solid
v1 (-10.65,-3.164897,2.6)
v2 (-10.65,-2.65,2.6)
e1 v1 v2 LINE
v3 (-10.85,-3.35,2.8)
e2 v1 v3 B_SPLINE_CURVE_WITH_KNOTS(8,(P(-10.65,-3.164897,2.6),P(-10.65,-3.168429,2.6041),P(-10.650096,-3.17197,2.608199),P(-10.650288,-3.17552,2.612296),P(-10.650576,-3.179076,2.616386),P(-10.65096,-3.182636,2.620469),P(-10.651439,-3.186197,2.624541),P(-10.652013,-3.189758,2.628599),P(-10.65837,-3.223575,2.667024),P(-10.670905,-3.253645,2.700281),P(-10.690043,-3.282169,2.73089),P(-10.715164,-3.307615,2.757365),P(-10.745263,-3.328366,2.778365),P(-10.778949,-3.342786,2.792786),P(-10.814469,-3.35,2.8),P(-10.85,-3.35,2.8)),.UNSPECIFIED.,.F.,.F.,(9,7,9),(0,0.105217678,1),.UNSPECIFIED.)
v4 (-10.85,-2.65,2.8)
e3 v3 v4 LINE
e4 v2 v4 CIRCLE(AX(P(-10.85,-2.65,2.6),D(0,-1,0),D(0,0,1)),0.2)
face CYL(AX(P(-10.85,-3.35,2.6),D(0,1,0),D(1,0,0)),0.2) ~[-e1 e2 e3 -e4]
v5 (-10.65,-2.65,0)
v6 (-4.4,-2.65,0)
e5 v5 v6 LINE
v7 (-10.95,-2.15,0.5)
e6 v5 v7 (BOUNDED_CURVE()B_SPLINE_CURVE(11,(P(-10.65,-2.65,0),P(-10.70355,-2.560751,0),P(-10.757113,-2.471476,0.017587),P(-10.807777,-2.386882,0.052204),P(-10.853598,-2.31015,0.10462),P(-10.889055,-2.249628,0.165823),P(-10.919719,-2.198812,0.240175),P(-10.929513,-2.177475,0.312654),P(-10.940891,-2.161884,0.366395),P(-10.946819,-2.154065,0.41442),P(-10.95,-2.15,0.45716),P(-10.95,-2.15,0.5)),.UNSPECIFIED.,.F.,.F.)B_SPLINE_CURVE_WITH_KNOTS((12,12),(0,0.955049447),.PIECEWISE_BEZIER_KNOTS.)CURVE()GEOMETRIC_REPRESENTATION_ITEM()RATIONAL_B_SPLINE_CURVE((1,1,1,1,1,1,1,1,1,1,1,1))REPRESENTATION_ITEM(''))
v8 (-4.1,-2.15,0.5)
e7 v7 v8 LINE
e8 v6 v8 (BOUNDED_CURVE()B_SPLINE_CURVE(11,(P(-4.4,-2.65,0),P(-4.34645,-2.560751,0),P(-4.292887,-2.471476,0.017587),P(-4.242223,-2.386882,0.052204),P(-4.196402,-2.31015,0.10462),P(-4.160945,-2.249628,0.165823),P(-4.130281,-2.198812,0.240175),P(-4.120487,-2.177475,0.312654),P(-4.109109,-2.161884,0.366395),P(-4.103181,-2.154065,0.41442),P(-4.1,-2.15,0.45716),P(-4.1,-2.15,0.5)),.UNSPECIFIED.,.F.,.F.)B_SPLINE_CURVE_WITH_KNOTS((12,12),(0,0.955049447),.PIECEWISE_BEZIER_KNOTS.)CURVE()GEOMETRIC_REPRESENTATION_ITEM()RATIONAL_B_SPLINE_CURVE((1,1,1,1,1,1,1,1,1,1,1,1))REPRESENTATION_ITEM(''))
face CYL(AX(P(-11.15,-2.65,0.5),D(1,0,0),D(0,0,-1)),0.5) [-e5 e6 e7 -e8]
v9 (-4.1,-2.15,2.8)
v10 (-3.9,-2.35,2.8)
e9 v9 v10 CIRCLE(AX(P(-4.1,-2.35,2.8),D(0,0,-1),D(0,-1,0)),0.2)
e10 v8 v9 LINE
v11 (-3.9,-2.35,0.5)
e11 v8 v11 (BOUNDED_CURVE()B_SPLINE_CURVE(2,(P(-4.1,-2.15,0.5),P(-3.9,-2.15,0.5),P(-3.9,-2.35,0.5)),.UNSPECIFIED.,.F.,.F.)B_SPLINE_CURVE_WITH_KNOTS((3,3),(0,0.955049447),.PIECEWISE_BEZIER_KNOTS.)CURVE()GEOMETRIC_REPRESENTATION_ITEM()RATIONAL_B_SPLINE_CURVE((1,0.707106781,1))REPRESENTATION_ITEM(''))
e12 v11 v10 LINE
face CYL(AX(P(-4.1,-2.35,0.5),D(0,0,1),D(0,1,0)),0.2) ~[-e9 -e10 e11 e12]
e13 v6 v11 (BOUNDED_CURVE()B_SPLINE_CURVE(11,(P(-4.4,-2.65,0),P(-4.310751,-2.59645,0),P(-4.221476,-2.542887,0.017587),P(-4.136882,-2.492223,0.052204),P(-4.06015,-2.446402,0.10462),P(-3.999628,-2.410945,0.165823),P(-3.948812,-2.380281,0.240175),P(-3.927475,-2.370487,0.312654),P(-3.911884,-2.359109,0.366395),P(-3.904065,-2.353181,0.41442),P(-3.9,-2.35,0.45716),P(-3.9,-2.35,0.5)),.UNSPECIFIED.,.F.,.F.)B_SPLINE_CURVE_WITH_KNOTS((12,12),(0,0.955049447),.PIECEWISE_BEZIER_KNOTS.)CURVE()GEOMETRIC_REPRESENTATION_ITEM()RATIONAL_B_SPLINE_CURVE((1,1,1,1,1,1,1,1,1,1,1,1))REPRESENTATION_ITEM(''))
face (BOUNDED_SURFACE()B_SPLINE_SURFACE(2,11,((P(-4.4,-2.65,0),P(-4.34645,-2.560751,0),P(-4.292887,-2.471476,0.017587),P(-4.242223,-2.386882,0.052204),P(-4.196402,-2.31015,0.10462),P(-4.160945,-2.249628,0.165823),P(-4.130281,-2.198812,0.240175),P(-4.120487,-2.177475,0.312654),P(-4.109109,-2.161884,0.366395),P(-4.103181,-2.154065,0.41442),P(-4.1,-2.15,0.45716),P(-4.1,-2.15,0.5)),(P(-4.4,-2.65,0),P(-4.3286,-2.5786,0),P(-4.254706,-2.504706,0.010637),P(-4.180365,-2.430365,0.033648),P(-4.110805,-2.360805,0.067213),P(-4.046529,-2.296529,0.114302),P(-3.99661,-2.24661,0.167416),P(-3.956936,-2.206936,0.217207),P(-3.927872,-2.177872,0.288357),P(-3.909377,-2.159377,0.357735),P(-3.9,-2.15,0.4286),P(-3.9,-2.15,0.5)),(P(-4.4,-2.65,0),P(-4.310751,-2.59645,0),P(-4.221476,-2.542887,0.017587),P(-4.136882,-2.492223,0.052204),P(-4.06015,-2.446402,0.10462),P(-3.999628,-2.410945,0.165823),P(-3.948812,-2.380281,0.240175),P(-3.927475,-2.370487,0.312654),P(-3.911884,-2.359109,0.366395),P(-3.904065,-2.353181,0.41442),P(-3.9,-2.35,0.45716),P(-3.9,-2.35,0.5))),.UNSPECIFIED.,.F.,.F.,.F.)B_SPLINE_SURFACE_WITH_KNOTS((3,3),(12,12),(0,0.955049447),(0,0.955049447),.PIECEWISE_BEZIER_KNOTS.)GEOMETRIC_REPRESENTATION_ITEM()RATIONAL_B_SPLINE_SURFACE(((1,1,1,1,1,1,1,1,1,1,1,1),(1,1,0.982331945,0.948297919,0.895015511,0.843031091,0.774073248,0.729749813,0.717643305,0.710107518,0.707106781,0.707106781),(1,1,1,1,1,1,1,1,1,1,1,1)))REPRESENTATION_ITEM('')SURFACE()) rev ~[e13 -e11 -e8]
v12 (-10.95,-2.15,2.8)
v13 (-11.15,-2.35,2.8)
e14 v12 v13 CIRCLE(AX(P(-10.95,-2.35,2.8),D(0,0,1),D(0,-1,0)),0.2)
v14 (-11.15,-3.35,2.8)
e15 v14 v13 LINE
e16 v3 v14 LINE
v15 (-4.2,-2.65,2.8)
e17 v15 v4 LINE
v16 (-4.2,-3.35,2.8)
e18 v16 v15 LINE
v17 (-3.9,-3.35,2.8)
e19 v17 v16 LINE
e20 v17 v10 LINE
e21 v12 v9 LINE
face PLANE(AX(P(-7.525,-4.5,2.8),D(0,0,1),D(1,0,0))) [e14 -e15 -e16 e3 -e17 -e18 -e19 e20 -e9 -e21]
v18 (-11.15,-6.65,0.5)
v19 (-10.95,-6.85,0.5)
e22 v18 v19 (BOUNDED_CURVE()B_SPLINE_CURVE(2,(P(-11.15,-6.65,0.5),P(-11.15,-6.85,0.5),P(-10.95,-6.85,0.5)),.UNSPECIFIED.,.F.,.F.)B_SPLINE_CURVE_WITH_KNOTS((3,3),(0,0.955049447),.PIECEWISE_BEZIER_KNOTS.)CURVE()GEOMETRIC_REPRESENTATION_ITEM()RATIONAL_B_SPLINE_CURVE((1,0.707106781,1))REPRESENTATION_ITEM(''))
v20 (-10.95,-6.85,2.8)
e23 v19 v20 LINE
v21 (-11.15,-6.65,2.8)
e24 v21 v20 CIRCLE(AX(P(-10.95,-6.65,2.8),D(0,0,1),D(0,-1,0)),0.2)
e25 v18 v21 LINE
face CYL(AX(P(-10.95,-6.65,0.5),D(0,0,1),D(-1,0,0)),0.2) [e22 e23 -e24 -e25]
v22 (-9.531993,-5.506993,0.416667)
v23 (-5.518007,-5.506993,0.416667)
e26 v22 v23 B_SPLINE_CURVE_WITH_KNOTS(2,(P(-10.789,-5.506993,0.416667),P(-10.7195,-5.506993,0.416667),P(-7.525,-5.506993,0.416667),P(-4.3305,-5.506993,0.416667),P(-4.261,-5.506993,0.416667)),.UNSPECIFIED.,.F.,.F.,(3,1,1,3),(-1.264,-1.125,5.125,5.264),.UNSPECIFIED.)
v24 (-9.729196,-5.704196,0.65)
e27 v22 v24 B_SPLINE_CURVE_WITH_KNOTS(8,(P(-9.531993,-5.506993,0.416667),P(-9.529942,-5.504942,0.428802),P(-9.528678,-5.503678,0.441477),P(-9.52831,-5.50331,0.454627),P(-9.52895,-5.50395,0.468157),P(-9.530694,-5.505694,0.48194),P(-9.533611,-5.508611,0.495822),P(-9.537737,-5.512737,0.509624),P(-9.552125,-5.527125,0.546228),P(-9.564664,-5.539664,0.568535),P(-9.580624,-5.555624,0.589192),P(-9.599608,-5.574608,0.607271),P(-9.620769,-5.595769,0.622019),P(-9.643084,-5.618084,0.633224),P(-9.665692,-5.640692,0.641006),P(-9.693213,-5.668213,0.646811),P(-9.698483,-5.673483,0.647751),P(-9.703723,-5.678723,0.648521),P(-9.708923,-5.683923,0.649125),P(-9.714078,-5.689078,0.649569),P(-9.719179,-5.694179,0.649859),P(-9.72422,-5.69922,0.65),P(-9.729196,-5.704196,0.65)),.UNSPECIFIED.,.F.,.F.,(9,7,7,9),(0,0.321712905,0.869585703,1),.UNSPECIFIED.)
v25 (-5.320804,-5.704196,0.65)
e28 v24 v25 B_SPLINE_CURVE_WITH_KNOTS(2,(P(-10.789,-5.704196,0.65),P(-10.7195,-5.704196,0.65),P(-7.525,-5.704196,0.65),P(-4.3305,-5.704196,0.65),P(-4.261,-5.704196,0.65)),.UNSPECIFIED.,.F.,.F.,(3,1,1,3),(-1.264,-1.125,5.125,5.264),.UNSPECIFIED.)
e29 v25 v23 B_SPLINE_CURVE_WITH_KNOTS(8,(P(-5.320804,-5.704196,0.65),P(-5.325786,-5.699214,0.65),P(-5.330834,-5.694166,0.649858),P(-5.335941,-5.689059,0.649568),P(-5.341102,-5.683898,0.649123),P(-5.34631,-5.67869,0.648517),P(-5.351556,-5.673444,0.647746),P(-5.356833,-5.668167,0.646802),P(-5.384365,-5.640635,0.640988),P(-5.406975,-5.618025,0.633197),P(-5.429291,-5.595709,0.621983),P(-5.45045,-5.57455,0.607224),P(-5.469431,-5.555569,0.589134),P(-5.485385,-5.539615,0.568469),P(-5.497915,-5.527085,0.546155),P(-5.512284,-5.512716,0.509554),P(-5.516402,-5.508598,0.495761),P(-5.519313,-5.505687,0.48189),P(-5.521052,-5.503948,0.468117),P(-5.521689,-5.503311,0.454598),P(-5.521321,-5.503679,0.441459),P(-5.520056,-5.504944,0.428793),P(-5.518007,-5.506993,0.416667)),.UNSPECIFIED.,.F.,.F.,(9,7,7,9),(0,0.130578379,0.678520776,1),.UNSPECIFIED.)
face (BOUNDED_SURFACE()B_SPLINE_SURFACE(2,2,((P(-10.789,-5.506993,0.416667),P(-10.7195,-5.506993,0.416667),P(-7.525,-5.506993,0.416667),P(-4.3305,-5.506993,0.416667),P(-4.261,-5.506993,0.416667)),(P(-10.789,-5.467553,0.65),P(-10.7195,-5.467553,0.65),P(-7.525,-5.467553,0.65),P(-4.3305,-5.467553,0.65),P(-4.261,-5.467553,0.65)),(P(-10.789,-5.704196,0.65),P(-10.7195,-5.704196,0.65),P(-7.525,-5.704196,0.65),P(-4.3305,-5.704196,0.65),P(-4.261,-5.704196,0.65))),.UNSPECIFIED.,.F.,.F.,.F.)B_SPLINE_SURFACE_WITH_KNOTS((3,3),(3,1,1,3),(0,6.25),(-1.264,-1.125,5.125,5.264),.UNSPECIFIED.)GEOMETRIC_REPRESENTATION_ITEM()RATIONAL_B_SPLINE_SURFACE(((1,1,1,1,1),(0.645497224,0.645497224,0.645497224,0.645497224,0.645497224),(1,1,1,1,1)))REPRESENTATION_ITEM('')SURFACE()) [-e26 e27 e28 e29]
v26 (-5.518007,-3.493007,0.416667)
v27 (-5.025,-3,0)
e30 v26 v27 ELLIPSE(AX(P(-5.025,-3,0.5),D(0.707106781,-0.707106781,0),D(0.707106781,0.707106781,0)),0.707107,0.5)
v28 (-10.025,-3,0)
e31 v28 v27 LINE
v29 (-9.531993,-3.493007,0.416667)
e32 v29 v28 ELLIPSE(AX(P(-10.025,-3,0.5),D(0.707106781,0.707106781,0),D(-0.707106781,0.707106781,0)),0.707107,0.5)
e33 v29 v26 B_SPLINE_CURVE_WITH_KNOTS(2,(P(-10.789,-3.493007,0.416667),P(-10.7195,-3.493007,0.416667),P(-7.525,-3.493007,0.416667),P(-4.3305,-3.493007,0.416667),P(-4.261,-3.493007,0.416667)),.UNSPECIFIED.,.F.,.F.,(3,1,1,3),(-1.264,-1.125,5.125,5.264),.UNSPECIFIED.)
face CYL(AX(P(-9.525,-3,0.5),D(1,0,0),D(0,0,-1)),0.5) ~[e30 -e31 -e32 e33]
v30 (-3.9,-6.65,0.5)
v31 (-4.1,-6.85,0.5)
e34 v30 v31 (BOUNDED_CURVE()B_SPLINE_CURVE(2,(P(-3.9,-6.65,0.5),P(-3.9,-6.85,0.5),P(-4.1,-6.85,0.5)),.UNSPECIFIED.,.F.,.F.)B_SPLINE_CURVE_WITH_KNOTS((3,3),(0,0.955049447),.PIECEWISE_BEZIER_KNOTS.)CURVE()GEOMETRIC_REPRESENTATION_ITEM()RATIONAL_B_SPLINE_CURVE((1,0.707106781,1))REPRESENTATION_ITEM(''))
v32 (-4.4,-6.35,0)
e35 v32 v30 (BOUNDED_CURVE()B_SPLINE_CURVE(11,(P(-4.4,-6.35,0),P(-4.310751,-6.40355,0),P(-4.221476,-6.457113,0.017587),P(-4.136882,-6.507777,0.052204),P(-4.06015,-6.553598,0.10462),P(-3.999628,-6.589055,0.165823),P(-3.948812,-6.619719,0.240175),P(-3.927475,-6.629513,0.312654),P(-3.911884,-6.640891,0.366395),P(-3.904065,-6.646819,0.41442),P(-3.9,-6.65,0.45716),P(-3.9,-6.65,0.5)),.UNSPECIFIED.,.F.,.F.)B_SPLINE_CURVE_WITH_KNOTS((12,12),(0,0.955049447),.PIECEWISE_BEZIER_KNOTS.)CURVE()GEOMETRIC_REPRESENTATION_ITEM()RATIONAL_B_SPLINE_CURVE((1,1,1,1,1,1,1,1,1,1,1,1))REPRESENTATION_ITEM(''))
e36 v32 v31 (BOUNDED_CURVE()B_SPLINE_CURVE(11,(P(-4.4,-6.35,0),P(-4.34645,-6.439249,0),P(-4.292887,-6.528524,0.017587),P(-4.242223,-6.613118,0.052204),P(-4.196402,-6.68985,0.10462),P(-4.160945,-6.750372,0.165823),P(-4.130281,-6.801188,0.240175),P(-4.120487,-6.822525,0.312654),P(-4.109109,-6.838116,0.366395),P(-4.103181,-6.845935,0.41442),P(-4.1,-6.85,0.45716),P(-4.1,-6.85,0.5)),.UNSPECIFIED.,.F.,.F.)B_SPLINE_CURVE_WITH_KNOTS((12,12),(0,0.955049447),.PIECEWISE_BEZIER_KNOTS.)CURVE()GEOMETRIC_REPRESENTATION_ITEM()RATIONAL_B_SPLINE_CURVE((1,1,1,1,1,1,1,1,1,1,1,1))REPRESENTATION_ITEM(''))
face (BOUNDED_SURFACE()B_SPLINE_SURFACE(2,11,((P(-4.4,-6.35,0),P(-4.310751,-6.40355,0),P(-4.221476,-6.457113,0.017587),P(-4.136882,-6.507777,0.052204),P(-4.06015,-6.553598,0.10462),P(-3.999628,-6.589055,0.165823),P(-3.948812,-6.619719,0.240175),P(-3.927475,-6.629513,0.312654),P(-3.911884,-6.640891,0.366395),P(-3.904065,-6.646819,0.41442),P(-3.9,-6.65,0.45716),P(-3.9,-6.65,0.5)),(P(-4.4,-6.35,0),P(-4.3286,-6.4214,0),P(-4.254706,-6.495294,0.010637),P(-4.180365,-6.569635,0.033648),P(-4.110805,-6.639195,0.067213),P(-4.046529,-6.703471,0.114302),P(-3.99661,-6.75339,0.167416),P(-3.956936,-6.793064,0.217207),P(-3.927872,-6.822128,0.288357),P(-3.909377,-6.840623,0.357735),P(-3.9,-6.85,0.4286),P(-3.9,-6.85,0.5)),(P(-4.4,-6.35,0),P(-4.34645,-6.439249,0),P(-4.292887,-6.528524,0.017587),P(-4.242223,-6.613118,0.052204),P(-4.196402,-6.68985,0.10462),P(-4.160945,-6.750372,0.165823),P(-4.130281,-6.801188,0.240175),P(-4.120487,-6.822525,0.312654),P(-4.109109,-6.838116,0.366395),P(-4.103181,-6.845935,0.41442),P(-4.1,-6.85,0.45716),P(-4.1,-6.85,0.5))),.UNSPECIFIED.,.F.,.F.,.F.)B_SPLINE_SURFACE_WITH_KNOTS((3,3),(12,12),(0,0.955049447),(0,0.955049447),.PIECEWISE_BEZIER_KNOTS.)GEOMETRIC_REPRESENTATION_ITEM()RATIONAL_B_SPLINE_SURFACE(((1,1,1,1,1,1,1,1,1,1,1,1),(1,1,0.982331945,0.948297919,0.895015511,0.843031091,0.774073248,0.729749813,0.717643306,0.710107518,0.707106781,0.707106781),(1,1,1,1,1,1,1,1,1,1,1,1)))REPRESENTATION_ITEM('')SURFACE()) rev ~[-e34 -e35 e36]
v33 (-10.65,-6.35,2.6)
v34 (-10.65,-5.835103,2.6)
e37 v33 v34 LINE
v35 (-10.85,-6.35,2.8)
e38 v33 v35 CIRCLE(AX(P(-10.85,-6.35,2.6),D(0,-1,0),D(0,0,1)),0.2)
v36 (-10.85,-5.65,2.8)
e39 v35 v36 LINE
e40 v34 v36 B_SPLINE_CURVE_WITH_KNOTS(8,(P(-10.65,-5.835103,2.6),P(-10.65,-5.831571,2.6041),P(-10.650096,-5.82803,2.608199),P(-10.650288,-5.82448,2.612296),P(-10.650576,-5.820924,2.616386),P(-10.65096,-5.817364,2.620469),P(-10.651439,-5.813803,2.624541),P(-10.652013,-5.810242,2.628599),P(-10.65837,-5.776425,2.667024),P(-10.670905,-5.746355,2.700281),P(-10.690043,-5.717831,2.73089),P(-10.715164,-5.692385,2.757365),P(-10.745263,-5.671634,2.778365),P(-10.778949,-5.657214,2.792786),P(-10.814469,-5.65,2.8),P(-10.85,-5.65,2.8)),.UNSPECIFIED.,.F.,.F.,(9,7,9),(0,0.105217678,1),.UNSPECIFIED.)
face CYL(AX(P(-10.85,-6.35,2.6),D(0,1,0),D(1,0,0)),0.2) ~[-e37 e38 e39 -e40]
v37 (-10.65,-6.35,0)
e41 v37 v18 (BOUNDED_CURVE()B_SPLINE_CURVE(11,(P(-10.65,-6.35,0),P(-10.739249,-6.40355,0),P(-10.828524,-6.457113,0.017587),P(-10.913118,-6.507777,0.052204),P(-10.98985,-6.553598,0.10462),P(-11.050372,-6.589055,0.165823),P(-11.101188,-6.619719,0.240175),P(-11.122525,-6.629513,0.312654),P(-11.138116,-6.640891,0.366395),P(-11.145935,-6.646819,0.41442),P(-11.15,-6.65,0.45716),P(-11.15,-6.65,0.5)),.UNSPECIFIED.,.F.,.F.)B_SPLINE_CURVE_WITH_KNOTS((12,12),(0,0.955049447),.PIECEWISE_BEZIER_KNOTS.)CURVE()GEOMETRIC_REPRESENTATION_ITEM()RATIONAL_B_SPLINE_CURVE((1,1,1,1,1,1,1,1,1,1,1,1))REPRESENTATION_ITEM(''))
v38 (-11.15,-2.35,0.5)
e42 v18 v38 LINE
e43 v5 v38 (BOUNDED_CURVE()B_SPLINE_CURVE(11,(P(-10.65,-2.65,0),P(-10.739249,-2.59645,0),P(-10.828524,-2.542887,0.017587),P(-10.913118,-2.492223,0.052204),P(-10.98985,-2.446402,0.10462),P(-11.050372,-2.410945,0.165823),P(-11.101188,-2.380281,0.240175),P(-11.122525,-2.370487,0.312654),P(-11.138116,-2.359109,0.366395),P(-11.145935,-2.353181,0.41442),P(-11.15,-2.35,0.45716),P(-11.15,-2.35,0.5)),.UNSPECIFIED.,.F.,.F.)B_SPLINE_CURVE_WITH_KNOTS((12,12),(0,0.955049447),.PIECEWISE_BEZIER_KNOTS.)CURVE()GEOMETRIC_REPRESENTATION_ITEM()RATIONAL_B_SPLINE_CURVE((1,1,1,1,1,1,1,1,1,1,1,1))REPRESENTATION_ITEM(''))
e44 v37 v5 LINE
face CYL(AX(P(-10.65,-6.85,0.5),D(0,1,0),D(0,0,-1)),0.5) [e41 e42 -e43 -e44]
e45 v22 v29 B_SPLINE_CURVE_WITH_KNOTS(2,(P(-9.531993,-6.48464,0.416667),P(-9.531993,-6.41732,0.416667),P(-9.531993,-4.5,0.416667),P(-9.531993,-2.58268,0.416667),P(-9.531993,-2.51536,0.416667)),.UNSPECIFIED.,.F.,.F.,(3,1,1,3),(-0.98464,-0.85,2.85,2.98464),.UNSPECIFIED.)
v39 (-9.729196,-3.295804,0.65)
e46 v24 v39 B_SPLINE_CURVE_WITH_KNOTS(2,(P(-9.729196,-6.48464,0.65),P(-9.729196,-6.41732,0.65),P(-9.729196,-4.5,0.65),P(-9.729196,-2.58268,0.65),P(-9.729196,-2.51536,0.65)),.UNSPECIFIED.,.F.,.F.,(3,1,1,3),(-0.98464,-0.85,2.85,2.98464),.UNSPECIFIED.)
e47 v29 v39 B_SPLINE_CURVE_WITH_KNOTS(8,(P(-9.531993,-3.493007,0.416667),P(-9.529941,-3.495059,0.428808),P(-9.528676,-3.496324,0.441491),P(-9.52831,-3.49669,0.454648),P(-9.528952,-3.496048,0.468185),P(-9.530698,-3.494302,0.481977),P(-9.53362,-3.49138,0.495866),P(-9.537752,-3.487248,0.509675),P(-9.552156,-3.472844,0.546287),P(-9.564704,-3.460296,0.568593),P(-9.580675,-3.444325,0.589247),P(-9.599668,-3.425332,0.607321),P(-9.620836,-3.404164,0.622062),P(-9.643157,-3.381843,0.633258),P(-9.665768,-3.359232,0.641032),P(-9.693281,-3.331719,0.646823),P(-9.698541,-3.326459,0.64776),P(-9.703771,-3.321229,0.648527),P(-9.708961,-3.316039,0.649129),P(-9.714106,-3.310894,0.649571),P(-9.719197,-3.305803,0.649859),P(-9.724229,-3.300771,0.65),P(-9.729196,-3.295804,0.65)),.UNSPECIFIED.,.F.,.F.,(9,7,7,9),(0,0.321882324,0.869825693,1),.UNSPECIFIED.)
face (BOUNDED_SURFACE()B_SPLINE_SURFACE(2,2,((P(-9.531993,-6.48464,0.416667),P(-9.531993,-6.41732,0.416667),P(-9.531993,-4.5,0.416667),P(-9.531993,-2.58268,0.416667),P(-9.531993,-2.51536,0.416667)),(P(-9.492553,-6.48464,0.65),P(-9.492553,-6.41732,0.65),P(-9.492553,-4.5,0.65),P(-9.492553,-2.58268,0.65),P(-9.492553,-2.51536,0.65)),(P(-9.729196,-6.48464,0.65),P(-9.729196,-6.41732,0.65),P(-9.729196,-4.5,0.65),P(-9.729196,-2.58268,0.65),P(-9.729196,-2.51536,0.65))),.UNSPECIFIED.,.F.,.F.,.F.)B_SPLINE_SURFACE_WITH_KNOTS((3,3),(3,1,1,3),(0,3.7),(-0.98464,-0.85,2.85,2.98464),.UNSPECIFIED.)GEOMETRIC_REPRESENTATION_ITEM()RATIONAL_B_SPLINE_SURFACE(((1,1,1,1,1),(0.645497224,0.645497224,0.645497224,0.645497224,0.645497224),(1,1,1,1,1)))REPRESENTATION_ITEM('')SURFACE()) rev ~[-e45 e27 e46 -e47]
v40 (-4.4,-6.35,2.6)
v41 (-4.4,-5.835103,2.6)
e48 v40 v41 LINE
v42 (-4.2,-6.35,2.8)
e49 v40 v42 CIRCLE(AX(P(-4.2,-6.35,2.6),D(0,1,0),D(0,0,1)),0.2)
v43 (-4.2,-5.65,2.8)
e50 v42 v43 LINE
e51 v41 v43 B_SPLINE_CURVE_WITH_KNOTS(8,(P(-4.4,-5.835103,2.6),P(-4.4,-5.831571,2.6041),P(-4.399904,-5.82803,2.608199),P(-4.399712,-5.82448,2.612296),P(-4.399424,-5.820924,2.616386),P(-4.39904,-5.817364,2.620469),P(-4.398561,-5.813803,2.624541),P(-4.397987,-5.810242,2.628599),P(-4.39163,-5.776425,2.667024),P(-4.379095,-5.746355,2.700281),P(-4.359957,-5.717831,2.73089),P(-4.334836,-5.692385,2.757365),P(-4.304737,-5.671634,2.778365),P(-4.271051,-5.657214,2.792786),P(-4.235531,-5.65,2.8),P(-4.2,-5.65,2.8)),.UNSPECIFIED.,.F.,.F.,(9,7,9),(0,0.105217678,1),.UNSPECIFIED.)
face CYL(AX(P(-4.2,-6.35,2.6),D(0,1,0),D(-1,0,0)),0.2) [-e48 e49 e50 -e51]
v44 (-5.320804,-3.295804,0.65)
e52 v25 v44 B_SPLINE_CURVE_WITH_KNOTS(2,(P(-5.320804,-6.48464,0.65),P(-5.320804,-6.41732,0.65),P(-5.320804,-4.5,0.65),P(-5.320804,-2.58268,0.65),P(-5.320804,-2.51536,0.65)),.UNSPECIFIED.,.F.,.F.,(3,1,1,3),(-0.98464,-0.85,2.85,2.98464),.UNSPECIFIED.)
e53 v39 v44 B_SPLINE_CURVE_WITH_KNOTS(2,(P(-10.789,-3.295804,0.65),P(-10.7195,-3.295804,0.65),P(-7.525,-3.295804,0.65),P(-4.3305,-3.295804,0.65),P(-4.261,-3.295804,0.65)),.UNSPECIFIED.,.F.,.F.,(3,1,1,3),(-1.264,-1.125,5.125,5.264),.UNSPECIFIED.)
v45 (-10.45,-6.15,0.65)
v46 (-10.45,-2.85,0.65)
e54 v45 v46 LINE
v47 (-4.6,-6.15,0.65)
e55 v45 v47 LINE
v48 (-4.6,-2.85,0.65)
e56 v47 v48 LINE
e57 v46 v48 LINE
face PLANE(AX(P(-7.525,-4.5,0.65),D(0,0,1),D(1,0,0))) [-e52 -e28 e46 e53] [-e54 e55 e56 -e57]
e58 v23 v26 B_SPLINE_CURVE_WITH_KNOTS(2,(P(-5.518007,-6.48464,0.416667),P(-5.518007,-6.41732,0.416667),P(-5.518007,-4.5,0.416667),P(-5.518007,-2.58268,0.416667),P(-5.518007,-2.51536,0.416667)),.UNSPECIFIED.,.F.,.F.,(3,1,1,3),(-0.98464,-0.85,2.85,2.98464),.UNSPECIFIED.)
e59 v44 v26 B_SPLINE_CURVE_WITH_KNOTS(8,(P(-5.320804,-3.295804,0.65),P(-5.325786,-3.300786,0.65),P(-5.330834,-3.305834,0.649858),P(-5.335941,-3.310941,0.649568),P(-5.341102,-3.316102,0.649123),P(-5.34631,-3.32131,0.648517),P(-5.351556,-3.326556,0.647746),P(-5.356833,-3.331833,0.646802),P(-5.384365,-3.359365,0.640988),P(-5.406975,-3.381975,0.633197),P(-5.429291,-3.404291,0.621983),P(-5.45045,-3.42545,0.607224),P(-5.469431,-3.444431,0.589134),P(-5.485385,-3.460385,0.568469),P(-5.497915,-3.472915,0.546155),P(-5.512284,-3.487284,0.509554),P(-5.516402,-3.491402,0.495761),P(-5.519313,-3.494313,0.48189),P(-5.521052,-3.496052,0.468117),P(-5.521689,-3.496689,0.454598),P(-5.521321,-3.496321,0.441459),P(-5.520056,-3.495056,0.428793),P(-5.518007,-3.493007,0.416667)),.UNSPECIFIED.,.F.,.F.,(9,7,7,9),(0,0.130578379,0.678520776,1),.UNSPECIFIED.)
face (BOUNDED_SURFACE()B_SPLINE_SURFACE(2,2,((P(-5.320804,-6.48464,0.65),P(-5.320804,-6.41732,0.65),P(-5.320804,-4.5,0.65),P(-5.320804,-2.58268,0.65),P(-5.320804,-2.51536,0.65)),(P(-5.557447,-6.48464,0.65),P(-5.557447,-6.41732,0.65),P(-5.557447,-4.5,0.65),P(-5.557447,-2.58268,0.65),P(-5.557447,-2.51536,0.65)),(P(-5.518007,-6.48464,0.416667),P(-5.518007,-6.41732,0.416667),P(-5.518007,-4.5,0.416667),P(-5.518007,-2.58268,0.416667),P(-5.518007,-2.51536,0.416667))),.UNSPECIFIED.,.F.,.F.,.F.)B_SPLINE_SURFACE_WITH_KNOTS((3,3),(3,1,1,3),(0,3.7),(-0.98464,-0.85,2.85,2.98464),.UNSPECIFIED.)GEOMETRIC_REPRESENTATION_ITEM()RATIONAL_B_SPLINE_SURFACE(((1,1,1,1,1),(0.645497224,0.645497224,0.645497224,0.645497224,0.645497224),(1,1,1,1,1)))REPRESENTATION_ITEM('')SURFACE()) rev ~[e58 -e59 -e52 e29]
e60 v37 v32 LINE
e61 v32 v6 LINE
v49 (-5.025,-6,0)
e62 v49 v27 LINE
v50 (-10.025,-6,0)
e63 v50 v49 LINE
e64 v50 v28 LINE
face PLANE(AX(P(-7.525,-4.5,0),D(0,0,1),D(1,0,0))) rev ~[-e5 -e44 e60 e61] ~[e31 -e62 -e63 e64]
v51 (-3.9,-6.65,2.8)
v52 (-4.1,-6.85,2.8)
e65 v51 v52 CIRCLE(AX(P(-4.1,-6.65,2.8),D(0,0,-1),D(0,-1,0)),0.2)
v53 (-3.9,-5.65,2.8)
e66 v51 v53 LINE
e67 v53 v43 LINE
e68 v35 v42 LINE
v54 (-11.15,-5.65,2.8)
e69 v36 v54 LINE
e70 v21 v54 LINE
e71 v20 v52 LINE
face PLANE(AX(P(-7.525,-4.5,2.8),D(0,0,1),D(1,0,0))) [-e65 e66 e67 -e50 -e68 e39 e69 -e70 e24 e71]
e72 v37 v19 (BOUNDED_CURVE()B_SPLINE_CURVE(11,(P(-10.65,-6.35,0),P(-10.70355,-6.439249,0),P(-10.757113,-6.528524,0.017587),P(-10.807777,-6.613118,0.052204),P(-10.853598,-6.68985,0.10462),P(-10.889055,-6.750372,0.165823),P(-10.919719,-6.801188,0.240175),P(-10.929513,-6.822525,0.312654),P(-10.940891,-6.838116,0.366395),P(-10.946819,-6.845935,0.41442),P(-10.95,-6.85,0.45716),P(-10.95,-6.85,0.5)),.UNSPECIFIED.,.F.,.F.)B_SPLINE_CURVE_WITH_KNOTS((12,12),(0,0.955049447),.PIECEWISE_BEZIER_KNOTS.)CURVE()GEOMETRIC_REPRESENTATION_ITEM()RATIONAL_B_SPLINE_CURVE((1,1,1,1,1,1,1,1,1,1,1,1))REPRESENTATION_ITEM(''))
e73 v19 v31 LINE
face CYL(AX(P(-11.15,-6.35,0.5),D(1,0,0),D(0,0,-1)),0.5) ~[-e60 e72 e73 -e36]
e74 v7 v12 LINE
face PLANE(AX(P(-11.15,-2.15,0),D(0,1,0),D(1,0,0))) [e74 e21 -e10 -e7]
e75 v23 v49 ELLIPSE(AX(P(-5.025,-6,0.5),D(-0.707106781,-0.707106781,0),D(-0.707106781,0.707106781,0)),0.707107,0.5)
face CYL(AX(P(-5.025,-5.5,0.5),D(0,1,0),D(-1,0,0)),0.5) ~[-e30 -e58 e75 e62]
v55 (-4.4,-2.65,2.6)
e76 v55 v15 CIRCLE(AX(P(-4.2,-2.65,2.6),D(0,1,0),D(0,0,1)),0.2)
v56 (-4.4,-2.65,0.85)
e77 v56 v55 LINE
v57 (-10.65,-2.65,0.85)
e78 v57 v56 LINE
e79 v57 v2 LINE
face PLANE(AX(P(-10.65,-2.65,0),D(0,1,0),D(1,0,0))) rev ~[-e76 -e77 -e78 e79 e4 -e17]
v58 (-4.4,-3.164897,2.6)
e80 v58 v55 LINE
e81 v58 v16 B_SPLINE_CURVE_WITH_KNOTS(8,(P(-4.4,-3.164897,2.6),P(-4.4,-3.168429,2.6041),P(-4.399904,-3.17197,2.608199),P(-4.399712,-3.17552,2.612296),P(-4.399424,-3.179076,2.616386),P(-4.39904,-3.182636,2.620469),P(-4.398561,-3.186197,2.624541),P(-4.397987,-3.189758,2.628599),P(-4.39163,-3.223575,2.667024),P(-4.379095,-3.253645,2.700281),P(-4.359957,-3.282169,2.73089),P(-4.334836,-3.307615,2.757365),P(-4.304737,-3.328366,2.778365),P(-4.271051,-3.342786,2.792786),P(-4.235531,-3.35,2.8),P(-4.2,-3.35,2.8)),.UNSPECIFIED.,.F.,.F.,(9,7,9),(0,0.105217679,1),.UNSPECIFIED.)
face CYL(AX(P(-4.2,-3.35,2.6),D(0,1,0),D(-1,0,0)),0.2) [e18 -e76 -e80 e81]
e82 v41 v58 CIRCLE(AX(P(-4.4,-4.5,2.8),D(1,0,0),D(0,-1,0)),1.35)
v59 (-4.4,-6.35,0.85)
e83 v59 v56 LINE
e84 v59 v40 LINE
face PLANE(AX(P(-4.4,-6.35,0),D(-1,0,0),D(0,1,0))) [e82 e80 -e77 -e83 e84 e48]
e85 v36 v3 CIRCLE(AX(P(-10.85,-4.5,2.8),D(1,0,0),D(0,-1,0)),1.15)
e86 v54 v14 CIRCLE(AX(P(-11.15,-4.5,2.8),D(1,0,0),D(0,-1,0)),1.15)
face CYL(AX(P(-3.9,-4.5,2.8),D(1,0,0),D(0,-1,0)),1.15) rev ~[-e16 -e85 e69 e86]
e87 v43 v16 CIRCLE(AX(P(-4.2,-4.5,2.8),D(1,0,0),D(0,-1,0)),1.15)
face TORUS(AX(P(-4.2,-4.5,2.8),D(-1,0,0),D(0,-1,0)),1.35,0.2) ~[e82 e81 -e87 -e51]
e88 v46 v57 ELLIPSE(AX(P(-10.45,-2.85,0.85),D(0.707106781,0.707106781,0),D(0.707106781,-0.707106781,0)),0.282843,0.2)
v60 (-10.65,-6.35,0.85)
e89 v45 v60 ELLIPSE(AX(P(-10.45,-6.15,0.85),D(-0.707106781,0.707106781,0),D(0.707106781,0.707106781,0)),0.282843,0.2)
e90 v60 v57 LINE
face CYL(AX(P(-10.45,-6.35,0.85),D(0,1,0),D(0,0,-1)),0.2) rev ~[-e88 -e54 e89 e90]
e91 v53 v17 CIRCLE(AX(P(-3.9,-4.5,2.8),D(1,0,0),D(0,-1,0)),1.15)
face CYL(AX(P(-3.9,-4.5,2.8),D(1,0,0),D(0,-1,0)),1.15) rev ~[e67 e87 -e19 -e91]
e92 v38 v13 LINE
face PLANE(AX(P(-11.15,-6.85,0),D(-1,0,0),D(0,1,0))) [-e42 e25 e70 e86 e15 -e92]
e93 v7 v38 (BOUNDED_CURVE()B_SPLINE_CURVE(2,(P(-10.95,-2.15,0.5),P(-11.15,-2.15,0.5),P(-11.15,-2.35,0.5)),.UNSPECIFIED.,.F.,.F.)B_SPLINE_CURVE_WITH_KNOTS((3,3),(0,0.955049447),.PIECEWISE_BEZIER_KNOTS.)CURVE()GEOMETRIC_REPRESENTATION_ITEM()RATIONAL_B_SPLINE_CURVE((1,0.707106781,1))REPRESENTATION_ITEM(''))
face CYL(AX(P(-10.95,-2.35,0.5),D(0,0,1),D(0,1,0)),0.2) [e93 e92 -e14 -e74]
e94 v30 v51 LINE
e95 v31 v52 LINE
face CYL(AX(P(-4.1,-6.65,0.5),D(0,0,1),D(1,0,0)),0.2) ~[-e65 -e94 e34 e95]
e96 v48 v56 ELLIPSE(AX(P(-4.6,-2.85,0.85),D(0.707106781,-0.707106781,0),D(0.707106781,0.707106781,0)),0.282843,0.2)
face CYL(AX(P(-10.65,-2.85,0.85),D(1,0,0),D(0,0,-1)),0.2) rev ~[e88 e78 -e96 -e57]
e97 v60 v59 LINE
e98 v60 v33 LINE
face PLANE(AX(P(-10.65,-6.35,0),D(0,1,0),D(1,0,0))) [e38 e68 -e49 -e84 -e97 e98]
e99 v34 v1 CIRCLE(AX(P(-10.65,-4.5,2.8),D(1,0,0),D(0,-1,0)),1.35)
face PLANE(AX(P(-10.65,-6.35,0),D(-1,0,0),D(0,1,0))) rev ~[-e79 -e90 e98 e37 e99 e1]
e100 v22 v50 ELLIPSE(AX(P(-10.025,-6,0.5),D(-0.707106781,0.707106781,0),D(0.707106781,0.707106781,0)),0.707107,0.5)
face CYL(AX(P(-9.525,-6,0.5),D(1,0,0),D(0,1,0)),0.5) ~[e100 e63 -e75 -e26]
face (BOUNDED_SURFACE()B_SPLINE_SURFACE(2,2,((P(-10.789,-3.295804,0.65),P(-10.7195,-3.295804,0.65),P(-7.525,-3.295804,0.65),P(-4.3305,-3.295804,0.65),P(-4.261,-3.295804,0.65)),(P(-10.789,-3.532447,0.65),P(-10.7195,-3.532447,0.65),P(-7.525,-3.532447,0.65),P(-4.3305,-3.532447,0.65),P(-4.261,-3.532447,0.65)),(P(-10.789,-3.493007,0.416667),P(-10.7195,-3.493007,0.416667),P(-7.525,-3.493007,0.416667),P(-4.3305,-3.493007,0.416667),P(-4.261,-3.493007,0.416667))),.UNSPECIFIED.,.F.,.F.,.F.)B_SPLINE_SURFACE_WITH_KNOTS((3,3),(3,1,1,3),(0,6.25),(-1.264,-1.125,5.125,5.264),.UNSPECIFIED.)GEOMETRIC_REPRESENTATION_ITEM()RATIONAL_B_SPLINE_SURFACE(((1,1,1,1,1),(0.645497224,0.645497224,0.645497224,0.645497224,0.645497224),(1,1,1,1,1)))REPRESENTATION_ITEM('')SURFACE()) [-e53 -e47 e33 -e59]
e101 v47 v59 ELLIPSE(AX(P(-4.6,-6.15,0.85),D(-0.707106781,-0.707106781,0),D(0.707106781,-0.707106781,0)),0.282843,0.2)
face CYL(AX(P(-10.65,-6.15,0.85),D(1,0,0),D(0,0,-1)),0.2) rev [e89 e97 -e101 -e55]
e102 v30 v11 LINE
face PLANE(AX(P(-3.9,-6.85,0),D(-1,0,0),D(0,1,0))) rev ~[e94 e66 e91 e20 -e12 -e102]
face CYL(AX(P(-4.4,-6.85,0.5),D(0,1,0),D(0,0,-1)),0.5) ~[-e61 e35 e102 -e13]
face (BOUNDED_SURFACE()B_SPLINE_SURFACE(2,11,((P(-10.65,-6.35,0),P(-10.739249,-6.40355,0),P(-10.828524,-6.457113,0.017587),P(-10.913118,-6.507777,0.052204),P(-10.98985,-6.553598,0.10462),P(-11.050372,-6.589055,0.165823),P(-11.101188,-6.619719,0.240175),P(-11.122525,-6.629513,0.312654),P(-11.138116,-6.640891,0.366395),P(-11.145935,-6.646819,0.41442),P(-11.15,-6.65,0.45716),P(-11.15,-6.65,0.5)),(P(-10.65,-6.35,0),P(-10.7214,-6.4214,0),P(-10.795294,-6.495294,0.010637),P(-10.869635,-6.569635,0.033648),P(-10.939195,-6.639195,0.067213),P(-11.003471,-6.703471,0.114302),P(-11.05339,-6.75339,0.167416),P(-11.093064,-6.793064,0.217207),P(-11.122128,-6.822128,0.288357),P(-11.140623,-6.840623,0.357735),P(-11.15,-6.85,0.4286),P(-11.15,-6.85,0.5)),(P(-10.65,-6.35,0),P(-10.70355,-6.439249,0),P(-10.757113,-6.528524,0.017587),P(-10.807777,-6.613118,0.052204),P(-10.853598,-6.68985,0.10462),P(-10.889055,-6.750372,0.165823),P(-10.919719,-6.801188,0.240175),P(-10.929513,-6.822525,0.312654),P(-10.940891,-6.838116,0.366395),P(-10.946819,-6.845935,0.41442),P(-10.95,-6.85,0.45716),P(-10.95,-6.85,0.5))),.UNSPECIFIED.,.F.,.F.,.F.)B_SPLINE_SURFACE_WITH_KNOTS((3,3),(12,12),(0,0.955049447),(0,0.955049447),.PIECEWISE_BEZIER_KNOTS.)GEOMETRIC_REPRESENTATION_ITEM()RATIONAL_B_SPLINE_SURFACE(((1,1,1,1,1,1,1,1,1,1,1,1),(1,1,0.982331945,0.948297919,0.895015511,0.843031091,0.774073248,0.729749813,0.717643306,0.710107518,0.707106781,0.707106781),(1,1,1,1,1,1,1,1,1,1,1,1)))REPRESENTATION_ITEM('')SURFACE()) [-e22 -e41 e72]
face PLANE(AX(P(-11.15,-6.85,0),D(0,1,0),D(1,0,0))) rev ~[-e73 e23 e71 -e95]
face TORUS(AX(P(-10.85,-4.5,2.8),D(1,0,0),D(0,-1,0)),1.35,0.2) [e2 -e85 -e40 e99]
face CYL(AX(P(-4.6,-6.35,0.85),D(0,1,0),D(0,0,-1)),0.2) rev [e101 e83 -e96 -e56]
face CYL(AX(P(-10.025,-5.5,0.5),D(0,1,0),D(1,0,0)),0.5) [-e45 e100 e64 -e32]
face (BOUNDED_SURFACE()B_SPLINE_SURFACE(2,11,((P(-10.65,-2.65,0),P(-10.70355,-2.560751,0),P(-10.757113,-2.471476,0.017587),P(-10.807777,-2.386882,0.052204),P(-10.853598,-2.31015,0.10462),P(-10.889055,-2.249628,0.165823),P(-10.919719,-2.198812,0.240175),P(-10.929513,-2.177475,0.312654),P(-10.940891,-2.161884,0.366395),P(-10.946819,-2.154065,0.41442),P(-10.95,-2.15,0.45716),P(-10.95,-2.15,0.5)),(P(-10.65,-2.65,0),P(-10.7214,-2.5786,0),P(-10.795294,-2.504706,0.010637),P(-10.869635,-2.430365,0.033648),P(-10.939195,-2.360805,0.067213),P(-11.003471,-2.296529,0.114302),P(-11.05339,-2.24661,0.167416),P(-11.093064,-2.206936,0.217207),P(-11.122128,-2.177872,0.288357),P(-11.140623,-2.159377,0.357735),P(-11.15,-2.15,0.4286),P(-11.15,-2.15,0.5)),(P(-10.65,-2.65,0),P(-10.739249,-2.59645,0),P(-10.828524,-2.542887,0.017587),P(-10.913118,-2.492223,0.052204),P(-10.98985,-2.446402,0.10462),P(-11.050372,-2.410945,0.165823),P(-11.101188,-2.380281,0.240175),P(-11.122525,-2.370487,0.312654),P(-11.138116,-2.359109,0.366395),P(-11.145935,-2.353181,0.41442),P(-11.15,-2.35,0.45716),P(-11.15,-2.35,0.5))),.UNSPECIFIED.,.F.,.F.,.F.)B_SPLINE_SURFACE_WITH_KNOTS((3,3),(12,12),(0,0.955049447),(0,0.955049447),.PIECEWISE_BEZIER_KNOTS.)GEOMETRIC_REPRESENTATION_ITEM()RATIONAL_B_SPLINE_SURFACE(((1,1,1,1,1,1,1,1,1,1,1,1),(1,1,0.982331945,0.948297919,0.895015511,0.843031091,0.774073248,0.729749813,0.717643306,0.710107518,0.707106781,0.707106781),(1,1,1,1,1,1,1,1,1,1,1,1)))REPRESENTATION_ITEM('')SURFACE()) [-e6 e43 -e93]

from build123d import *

# Parameters (mm, degrees)
F0_W     = 7.25
F0_H     = 4.7
F0_W_2   = 6.25
F0_H_2   = 3.7
F1_DEPTH = 2.8
F0_W_3   = 4
F0_H_3   = 2
F2_DEPTH = 0.65
F3_R     = 0.5
F5_DEPTH = 25
F6_R     = 0.2


with BuildPart() as f1:
    # F0 (on Top) → F1 (new body)
    with BuildSketch(Plane.XY):
        with Locations((-7.525, -4.5)):
            Rectangle(F0_W, F0_H)
        with Locations((-7.525, -4.5)):
            Rectangle(F0_W_2, F0_H_2, mode=Mode.SUBTRACT)
    extrude(amount=F1_DEPTH)

    # F0 (on Top) → F2 (join)
    with BuildSketch(Plane.XY):
        with Locations((-7.525, -4.5)):
            Rectangle(F0_W_2, F0_H_2)
        with Locations((-7.525, -4.5)):
            Rectangle(F0_W_3, F0_H_3, mode=Mode.SUBTRACT)
    extrude(amount=F2_DEPTH)

    # F3
    f3_edges = [f1.edges().sort_by_distance(p)[0] for p in [
        (-7.525, -2.15, 0),
        (-11.15, -4.5, 0),
        (-7.525, -6.85, 0),
        (-3.9, -4.5, 0),
        (-5.525, -4.5, 0),
        (-7.525, -5.5, 0),
        (-9.525, -4.5, 0),
        (-7.525, -3.5, 0),
    ]]
    fillet(f3_edges, radius=F3_R)

    # F4 (on face) → F5 (cut)
    with BuildSketch(Plane.YZ.offset(-3.9)):
        with BuildLine():
            ThreePointArc((-5.65, 2.8), (-4.5, 1.65), (-3.35, 2.8))
            Line((-3.35, 2.8), (-5.65, 2.8))
        make_face()
    extrude(amount=-F5_DEPTH, mode=Mode.SUBTRACT)

    # F6
    f6_edges = [f1.edges().sort_by_distance(p)[0] for p in [
        (-7.525, -2.65, 0.65),
        (-10.65, -4.5, 0.65),
        (-7.525, -6.35, 0.65),
        (-4.4, -4.5, 0.65),
        (-9.525, -4.5, 0.65),
        (-7.525, -3.5, 0.65),
        (-5.525, -4.5, 0.65),
        (-7.525, -5.5, 0.65),
        (-10.65, -4.5, 1.65),
        (-4.4, -4.5, 1.65),
        (-10.65, -3, 2.8),
        (-3.9, -2.15, 1.65),
        (-3.9, -6.85, 1.65),
        (-11.15, -2.15, 1.65),
        (-11.15, -6.85, 1.65),
        (-4.4, -3, 2.8),
        (-4.4, -6, 2.8),
        (-10.65, -6, 2.8),
    ]]
    fillet(f6_edges, radius=F6_R)


solid = f1.part
